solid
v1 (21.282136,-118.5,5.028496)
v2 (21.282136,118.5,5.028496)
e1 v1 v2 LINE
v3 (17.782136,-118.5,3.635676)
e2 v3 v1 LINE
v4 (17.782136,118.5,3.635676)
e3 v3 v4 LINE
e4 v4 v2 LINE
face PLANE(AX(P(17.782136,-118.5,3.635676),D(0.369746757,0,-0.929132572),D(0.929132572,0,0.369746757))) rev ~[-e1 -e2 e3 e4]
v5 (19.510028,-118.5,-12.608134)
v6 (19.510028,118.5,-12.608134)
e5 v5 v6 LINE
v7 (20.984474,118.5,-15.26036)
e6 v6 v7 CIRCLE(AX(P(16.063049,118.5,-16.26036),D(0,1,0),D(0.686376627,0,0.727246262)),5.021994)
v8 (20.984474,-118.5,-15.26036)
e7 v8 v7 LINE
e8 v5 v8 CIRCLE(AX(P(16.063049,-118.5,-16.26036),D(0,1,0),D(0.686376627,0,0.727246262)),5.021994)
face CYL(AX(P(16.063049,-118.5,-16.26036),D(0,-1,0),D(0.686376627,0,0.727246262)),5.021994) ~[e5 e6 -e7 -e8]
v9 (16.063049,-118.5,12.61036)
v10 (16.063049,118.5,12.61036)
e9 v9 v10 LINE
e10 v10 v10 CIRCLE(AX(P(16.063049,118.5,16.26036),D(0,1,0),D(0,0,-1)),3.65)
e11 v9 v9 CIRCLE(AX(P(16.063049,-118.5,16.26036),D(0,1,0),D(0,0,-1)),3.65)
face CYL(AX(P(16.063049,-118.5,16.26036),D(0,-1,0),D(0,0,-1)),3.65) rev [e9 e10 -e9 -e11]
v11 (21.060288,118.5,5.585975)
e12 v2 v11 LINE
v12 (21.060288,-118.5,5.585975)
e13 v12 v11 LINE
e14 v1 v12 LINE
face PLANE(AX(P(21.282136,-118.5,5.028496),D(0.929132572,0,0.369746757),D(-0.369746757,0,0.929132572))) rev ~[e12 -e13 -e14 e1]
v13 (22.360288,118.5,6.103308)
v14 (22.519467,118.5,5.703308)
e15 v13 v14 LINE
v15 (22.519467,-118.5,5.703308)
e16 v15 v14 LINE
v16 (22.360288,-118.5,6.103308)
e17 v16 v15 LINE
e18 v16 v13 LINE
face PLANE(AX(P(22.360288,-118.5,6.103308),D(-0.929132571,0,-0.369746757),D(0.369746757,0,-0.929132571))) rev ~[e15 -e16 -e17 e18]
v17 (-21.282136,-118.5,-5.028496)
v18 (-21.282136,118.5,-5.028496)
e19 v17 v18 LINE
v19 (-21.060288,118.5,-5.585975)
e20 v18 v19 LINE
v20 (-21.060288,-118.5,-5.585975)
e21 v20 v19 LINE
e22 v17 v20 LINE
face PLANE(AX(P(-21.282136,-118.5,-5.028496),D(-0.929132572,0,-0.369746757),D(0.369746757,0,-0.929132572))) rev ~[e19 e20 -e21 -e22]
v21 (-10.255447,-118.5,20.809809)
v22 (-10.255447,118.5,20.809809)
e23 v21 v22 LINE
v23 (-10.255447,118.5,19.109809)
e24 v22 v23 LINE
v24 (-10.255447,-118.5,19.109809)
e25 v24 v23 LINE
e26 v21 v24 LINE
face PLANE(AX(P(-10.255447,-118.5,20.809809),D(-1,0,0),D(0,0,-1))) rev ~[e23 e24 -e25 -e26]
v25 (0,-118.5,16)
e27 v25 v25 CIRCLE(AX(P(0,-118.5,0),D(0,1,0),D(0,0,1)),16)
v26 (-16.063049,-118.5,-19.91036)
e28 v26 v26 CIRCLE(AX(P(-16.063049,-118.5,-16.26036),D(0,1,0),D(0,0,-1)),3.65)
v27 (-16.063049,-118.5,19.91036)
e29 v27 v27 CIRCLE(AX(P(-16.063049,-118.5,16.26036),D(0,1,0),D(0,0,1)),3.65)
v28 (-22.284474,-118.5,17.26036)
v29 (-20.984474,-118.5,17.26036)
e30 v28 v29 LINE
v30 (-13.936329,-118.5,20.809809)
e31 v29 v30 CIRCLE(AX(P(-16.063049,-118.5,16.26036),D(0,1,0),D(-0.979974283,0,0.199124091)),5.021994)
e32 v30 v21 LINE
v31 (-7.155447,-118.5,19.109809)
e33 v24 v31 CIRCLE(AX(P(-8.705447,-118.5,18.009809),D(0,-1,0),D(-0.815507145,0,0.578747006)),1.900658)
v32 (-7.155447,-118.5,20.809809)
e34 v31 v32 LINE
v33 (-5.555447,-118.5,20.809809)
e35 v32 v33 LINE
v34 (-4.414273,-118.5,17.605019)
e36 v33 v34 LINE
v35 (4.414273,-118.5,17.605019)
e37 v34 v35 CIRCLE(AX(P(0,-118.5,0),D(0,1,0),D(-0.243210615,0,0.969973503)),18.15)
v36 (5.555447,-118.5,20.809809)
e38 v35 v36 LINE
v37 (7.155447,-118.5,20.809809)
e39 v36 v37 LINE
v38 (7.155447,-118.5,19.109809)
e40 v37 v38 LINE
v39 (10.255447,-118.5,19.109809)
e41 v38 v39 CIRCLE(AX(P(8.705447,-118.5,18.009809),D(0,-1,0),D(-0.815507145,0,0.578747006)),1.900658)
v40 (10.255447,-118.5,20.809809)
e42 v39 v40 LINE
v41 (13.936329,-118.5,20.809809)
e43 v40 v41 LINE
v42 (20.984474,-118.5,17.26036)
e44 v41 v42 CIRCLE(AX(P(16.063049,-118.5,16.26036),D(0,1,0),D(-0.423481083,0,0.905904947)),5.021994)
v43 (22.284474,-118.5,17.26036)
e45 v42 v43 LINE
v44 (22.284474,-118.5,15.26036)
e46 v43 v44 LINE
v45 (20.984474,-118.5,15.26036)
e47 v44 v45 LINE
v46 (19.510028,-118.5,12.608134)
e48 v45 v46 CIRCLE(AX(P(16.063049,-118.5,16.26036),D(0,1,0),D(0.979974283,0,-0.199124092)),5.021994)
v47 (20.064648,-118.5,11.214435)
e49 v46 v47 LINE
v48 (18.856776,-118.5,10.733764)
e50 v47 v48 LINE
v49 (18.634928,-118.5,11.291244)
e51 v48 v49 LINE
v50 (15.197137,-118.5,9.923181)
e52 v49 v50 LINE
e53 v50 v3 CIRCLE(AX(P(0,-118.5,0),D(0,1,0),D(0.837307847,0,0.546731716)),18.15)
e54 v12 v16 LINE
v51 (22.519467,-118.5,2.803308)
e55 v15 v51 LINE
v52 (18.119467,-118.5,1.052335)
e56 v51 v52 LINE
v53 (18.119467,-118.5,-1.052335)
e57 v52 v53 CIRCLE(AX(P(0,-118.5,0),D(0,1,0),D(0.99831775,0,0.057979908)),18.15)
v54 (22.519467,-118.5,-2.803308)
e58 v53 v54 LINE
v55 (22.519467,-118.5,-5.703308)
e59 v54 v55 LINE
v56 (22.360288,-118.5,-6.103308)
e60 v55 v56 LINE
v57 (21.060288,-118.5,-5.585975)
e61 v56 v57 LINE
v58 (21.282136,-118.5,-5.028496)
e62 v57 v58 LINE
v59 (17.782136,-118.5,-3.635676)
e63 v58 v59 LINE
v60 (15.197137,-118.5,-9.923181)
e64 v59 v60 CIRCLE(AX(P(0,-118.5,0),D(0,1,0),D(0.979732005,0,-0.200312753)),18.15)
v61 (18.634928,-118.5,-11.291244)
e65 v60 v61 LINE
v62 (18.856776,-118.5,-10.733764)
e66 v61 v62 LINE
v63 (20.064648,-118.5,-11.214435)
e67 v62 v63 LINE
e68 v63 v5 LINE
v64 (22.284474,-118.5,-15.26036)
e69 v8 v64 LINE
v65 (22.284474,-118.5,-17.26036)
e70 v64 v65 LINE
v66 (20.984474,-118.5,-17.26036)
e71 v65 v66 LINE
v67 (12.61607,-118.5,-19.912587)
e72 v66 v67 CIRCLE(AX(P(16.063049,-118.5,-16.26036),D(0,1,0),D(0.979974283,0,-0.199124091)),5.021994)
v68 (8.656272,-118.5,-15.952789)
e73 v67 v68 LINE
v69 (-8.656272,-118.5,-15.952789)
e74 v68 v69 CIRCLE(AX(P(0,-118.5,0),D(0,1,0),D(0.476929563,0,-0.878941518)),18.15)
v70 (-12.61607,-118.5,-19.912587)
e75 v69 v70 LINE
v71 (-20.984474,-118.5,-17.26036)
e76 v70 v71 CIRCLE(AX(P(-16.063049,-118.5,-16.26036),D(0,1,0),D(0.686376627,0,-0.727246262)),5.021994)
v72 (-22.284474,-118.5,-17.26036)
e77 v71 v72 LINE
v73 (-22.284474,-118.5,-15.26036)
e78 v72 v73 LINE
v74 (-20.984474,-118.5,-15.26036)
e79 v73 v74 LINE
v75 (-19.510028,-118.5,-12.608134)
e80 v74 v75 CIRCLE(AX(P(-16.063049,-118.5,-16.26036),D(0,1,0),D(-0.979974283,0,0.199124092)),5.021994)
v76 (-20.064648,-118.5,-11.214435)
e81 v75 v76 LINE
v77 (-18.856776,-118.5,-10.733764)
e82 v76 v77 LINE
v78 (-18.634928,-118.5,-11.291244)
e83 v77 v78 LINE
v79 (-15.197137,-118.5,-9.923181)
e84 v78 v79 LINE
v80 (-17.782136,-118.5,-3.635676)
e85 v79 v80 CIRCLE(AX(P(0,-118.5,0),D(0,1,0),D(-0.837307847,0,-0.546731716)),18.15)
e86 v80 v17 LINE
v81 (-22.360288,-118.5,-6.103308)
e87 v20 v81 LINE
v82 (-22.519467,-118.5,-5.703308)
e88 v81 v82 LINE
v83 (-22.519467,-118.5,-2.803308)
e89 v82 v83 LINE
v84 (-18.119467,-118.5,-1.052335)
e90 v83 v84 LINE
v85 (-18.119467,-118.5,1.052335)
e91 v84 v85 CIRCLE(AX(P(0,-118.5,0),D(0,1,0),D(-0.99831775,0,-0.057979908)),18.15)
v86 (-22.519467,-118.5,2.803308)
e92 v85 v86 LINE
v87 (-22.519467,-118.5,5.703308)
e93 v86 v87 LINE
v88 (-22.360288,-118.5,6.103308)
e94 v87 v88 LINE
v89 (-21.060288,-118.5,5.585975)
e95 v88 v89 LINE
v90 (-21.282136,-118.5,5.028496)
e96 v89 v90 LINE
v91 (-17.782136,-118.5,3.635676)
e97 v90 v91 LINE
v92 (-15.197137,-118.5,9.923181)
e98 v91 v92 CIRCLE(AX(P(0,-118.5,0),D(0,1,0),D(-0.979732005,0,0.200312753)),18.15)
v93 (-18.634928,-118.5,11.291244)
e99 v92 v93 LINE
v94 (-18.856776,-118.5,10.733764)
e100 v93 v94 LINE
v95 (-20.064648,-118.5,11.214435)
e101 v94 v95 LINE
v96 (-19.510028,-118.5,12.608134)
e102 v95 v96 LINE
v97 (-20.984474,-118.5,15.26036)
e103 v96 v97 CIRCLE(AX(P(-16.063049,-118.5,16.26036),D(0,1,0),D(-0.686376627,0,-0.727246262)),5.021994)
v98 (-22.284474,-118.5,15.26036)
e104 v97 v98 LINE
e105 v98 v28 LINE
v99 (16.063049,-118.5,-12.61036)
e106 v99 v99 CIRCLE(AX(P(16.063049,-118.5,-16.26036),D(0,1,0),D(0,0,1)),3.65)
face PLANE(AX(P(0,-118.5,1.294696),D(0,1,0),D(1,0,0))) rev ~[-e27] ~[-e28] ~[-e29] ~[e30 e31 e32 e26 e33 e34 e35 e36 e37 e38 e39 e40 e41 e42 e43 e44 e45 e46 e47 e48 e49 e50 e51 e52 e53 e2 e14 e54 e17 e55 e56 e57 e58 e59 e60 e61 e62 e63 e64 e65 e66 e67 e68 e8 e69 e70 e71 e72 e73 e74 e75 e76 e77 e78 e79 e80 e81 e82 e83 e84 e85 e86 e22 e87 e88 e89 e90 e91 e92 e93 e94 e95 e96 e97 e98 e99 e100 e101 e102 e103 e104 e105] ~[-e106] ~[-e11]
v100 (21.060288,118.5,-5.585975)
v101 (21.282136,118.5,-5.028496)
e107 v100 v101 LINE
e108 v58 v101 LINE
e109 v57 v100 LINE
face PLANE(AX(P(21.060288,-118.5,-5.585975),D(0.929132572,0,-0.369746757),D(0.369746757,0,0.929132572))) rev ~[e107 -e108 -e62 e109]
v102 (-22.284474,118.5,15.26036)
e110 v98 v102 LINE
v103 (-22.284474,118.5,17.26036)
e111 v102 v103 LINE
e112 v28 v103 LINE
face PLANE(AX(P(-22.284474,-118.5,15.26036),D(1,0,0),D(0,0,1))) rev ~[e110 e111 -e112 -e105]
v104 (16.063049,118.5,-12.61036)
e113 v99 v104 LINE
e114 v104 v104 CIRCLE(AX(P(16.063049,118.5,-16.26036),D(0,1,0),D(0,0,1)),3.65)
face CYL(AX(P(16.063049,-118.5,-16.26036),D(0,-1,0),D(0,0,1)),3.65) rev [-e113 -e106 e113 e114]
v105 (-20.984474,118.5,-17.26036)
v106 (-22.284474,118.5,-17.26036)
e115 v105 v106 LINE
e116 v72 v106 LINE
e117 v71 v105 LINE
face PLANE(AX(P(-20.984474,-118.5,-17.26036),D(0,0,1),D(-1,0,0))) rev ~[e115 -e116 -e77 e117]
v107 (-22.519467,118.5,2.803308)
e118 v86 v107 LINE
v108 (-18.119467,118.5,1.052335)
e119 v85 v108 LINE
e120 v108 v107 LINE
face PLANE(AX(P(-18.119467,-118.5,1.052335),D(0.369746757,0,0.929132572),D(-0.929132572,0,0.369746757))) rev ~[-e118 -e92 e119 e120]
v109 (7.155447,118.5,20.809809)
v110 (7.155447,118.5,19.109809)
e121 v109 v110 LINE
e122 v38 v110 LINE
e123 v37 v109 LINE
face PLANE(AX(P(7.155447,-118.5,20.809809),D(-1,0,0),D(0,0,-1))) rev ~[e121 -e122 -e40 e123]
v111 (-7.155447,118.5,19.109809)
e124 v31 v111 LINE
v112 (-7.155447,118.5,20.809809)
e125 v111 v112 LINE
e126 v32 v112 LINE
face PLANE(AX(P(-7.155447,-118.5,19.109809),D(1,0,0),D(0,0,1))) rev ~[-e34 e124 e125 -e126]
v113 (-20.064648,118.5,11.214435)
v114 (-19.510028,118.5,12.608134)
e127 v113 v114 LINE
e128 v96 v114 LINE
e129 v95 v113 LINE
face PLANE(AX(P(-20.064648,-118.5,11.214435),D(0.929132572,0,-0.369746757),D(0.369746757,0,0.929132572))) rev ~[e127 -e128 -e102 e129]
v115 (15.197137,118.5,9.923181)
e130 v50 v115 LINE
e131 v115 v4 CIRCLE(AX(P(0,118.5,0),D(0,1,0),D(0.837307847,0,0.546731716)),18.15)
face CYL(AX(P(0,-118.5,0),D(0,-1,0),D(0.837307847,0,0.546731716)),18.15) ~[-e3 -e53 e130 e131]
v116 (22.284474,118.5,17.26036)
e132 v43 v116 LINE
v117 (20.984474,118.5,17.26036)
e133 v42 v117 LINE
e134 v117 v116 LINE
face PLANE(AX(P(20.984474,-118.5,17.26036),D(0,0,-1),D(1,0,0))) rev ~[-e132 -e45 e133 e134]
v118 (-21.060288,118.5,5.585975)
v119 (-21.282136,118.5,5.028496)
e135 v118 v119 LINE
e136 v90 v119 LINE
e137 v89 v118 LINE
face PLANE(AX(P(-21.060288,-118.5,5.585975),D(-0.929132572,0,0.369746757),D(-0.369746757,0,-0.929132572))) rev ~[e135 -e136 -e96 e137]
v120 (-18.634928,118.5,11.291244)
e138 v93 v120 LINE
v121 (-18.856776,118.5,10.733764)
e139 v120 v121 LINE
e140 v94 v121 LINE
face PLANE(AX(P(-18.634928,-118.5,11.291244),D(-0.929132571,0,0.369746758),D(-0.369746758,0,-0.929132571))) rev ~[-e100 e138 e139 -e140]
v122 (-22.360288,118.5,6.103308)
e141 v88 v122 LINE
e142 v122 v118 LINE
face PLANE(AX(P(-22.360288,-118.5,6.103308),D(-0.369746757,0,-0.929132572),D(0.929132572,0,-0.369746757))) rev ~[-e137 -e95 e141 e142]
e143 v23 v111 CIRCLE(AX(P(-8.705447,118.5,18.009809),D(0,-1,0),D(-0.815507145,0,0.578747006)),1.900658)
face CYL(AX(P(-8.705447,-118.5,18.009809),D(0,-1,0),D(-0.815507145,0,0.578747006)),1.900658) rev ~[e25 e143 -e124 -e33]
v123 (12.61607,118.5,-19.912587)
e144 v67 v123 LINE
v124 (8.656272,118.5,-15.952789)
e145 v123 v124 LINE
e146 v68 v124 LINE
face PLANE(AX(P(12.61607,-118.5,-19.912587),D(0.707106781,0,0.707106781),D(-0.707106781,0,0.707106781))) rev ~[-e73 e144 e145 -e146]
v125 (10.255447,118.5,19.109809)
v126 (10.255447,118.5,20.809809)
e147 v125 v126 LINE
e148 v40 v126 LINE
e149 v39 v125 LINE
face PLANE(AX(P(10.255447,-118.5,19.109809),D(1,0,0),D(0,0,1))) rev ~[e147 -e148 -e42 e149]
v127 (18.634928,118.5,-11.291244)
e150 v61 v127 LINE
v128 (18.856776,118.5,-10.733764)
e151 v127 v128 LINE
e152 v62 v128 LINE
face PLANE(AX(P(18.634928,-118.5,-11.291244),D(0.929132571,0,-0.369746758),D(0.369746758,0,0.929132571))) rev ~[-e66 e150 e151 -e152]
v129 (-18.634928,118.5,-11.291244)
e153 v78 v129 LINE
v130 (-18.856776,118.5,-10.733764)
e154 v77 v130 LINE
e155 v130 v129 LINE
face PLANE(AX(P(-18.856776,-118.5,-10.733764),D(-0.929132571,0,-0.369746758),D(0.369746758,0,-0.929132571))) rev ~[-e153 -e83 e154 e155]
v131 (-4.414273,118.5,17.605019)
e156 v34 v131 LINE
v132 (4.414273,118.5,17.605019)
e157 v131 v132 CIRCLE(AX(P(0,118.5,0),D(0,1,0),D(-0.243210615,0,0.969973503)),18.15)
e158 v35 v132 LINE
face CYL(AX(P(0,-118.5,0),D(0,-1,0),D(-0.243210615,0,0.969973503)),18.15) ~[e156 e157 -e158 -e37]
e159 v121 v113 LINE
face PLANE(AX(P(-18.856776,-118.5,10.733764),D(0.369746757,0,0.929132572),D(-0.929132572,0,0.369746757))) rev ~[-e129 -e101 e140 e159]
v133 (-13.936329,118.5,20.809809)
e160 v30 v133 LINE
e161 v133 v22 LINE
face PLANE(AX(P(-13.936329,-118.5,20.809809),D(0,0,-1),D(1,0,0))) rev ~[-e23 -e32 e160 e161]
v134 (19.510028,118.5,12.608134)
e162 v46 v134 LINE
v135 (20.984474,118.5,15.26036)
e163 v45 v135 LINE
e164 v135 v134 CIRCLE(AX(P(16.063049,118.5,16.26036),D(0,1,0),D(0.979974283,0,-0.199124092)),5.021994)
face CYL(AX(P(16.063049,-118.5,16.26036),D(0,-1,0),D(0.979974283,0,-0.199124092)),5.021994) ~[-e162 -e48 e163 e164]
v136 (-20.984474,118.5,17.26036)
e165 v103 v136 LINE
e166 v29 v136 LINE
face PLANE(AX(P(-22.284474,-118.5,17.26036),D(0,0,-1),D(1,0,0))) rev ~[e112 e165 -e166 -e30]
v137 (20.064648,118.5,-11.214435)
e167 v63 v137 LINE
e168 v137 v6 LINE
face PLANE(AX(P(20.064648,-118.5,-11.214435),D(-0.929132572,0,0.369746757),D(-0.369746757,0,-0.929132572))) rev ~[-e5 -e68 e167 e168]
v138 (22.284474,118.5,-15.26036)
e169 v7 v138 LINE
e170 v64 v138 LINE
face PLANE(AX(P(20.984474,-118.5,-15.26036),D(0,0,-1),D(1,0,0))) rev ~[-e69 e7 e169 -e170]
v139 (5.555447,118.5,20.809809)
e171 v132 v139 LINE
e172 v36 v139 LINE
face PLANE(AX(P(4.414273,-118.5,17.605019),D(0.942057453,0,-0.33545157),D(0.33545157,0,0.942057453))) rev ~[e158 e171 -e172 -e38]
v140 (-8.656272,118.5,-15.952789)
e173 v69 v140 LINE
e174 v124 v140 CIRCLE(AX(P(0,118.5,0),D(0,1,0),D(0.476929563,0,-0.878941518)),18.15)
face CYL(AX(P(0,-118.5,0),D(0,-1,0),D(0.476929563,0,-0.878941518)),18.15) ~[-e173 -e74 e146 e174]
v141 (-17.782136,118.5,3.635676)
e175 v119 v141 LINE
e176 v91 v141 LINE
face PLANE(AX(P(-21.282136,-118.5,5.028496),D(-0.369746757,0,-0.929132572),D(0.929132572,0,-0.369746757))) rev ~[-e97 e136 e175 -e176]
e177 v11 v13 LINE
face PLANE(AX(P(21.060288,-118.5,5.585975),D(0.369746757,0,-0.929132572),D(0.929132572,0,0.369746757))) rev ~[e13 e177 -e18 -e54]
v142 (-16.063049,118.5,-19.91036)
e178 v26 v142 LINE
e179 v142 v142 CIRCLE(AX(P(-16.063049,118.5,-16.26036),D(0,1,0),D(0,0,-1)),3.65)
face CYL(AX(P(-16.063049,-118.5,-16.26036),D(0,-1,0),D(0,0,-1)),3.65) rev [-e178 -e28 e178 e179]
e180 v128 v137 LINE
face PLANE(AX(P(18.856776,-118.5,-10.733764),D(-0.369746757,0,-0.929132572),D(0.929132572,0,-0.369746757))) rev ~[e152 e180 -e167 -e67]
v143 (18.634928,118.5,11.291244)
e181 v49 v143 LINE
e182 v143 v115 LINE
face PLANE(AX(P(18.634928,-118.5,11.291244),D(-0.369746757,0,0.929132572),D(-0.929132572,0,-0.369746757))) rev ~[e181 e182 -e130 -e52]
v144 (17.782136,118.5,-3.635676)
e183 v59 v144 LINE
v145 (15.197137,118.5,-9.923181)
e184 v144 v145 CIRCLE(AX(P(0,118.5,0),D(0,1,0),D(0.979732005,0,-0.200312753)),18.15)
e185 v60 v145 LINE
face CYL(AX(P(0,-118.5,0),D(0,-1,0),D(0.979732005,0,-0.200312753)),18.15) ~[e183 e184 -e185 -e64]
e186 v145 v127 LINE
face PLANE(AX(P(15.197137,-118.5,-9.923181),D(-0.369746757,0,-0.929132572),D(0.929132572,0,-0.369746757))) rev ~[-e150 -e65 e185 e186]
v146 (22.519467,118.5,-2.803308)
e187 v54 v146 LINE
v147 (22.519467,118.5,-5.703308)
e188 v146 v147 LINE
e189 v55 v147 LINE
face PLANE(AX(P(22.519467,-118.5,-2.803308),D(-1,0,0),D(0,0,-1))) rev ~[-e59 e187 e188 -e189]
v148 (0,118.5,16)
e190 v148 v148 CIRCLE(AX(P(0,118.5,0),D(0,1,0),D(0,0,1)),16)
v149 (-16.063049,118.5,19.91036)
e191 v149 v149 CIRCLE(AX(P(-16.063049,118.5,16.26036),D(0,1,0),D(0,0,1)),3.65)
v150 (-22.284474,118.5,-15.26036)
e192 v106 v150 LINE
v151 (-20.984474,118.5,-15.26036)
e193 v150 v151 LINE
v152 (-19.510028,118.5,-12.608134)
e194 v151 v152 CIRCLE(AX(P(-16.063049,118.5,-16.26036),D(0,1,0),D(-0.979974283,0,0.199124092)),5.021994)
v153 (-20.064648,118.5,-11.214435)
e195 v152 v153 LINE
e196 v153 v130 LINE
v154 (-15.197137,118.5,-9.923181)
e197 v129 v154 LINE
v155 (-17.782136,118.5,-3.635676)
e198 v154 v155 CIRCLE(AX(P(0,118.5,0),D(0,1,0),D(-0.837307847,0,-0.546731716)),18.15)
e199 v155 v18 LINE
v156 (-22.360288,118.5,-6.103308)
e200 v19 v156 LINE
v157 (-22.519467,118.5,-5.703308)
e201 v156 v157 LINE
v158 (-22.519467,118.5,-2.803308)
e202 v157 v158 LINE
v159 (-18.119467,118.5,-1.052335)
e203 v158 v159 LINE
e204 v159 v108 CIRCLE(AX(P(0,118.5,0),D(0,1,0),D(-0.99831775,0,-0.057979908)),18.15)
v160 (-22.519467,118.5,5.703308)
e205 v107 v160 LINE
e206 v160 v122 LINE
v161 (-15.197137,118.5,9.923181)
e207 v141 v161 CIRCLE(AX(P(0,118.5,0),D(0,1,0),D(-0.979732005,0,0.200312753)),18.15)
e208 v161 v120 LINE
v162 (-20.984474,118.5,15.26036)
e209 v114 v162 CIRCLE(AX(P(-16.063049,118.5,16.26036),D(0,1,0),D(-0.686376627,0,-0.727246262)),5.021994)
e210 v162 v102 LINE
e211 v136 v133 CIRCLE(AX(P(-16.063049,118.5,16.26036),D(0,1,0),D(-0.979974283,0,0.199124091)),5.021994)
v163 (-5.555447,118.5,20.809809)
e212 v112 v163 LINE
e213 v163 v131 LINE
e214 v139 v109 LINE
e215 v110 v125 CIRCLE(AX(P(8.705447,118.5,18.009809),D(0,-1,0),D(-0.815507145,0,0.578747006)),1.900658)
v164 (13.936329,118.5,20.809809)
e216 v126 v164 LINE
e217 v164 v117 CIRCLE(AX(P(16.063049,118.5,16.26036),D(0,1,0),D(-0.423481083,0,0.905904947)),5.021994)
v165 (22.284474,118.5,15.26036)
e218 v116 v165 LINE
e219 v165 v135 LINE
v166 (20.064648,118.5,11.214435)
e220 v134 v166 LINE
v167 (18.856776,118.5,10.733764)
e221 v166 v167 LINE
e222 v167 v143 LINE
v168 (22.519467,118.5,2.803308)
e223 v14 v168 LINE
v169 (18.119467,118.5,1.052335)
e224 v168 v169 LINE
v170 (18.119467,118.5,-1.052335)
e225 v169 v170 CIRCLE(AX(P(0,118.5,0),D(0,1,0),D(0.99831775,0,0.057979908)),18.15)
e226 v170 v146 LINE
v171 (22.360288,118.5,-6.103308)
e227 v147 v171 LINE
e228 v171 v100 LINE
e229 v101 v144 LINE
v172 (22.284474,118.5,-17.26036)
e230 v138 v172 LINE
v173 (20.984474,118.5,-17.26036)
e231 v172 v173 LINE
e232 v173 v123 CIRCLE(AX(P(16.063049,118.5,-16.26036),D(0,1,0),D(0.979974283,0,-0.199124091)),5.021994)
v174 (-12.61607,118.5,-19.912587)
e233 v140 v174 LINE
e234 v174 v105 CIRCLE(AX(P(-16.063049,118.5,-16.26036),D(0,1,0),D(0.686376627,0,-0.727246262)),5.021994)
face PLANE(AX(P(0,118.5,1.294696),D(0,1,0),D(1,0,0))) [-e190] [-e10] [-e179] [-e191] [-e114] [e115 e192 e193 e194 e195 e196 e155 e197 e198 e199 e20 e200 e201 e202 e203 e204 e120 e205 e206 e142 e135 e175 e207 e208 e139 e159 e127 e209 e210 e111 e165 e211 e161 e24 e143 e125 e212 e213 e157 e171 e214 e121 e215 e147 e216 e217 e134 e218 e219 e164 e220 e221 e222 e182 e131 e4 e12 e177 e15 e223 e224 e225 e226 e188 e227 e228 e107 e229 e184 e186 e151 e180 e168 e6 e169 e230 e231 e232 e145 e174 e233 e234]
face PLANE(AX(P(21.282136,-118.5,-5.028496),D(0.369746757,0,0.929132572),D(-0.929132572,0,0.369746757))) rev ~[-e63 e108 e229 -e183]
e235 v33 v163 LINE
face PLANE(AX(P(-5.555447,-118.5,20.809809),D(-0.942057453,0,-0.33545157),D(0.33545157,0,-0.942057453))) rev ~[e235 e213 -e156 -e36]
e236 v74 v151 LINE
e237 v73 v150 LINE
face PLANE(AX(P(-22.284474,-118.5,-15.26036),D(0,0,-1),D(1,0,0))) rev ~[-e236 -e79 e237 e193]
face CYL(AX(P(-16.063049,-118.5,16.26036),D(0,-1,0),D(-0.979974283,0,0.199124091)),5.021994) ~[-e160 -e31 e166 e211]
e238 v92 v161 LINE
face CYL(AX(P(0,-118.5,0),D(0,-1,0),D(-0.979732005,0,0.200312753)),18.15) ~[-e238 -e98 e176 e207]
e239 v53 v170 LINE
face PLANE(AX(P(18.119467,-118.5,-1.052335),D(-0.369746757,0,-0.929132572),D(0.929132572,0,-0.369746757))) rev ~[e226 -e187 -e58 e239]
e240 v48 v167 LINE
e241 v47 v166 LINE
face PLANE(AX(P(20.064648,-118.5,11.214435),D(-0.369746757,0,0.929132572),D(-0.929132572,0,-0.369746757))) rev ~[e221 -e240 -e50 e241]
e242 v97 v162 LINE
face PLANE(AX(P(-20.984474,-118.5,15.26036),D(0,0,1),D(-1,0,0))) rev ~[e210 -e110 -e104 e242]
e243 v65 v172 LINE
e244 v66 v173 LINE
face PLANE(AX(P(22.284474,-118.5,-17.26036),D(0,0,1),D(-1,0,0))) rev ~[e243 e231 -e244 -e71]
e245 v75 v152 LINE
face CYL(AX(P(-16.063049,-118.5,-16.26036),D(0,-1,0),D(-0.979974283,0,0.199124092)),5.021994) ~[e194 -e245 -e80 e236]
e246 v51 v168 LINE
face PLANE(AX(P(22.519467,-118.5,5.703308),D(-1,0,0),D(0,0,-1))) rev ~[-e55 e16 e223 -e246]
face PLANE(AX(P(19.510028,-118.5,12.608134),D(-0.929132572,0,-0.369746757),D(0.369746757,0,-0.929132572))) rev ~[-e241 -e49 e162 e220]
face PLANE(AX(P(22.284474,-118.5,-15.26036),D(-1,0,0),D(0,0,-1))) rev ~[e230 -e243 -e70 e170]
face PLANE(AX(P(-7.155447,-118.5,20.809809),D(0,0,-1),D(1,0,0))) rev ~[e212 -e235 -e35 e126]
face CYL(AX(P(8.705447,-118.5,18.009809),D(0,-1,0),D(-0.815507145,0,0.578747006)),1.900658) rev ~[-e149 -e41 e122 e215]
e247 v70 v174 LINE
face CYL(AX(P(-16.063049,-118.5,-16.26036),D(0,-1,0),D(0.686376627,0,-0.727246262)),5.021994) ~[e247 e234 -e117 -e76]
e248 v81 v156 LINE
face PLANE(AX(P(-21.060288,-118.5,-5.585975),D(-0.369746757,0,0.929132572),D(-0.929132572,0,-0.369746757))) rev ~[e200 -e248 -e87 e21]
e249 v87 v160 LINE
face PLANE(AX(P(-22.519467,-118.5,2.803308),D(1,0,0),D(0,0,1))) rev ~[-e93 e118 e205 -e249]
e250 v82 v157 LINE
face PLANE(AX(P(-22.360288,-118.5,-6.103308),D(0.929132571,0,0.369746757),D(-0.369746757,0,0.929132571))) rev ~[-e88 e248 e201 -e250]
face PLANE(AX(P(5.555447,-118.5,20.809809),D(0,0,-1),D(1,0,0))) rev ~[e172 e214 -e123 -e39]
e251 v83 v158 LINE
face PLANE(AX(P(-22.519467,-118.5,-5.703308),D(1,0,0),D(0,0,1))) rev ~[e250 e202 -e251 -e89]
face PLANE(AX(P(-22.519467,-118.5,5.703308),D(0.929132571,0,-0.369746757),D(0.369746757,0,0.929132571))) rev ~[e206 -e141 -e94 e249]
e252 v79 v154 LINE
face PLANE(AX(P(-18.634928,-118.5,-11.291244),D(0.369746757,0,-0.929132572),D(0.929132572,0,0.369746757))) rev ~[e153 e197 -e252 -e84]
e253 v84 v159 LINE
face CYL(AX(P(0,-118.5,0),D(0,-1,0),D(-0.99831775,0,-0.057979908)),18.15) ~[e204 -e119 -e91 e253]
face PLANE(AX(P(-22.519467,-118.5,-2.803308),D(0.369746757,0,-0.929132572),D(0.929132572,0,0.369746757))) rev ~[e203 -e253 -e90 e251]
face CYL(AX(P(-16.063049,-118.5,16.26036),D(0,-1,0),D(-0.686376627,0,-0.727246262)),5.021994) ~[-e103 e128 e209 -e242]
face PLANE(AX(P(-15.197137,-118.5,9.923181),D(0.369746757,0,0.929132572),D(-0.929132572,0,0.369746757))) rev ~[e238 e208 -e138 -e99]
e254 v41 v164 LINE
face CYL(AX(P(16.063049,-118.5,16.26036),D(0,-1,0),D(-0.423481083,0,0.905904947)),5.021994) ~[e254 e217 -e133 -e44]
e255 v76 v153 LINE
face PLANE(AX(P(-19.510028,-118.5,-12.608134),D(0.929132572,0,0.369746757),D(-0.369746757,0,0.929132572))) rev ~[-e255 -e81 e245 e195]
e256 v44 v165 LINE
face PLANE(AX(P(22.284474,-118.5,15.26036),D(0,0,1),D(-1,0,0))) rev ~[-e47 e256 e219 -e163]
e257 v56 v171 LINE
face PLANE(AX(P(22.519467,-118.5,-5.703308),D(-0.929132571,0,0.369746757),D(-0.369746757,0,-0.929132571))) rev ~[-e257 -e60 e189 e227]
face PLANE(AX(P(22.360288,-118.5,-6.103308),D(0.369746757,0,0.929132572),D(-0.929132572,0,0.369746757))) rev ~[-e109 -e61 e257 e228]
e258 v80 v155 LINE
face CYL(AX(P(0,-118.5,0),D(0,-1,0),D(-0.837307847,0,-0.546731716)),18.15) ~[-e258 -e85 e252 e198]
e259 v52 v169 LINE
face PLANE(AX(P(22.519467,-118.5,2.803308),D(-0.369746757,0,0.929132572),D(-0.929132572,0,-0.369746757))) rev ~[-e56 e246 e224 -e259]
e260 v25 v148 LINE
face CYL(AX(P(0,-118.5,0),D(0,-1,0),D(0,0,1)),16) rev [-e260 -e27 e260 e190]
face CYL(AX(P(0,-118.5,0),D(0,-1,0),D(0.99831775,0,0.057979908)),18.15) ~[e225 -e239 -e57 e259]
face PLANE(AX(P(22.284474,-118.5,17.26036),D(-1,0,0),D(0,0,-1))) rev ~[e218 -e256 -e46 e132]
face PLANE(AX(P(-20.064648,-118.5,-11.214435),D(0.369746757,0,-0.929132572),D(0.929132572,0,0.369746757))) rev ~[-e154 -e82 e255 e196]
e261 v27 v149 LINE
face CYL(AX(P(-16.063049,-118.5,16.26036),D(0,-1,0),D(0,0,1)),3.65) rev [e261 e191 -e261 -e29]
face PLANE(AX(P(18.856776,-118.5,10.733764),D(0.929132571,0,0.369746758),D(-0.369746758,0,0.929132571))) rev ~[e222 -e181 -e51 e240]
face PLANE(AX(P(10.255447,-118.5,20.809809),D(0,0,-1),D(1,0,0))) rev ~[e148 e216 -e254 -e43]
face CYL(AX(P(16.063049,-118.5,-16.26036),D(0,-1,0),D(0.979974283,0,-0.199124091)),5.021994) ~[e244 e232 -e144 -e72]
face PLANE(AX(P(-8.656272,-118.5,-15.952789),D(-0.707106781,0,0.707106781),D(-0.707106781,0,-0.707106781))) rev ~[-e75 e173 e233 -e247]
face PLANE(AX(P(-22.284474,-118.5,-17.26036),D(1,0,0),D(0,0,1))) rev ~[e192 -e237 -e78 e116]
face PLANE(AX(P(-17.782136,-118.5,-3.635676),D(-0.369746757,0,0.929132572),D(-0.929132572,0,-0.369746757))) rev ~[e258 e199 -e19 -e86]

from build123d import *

# Parameters (mm, degrees)
SALIENTE_EXTRUIR1_DEPTH      = 118.5
SALIENTE_EXTRUIR1_DEPTH_BACK = 118.5
CROQUIS1_R                   = 16
CROQUIS1_R_2                 = 3.65


with BuildPart() as part:
    # Croquis1 → Saliente-Extruir1 (new, two sides: drawn at the far end of the back side and taken through both)
    with BuildSketch(Plane(origin=(0, 0, 0), x_dir=(1, 0, 0), z_dir=(0, 1, 0)).offset(-SALIENTE_EXTRUIR1_DEPTH_BACK)):
        with BuildLine():
            Line((22.519467165, 2.803307997), (22.519467165, 5.703307997))
            Line((22.519467165, 5.703307997), (22.360287832, 6.103307997))
            Line((22.360287832, 6.103307997), (21.060287832, 5.585975165))
            Line((21.060287832, 5.585975165), (21.282135886, 5.028495622))
            Line((21.282135886, 5.028495622), (17.782135886, 3.635676459))
            ThreePointArc((17.782135886, 3.635676459), (16.78664035, 6.901536477), (15.197137425, 9.923180644))
            Line((15.197137425, 9.923180644), (18.634927939, 11.291243646))
            Line((18.634927939, 11.291243646), (18.856775994, 10.733764103))
            Line((18.856775994, 10.733764103), (20.064648337, 11.214434887))
            Line((20.064648337, 11.214434887), (19.510028201, 12.608133745))
            ThreePointArc((19.510028201, 12.608133745), (20.45236818, 13.820216674), (20.984473879, 15.260360134))
            Line((20.984473879, 15.260360134), (22.284473879, 15.260360134))
            Line((22.284473879, 15.260360134), (22.284473879, 17.260360134))
            Line((22.284473879, 17.260360134), (20.984473879, 17.260360134))
            ThreePointArc((20.984473879, 17.260360134), (17.580307493, 21.047671527), (12.616069545, 19.912586524))
            Line((12.616069545, 19.912586524), (8.656271571, 15.952788549))
            ThreePointArc((8.656271571, 15.952788549), (0, 18.15), (-8.656271571, 15.952788549))
            Line((-8.656271571, 15.952788549), (-12.616069545, 19.912586524))
            ThreePointArc((-12.616069545, 19.912586524), (-17.580307493, 21.047671527), (-20.984473879, 17.260360134))
            Line((-20.984473879, 17.260360134), (-22.284473879, 17.260360134))
            Line((-22.284473879, 17.260360134), (-22.284473879, 15.260360134))
            Line((-22.284473879, 15.260360134), (-20.984473879, 15.260360134))
            ThreePointArc((-20.984473879, 15.260360134), (-20.45236818, 13.820216674), (-19.510028201, 12.608133745))
            Line((-19.510028201, 12.608133745), (-20.064648337, 11.214434887))
            Line((-20.064648337, 11.214434887), (-18.856775994, 10.733764103))
            Line((-18.856775994, 10.733764103), (-18.634927939, 11.291243646))
            Line((-18.634927939, 11.291243646), (-15.197137425, 9.923180644))
            ThreePointArc((-15.197137425, 9.923180644), (-16.78664035, 6.901536477), (-17.782135886, 3.635676459))
            Line((-17.782135886, 3.635676459), (-21.282135886, 5.028495622))
            Line((-21.282135886, 5.028495622), (-21.060287832, 5.585975165))
            Line((-21.060287832, 5.585975165), (-22.360287832, 6.103307997))
            Line((-22.360287832, 6.103307997), (-22.519467165, 5.703307997))
            Line((-22.519467165, 5.703307997), (-22.519467165, 2.803307997))
            Line((-22.519467165, 2.803307997), (-18.119467165, 1.052335335))
            ThreePointArc((-18.119467165, 1.052335335), (-18.15, 0), (-18.119467165, -1.052335335))
            Line((-18.119467165, -1.052335335), (-22.519467165, -2.803307997))
            Line((-22.519467165, -2.803307997), (-22.519467165, -5.703307997))
            Line((-22.519467165, -5.703307997), (-22.360287832, -6.103307997))
            Line((-22.360287832, -6.103307997), (-21.060287832, -5.585975165))
            Line((-21.060287832, -5.585975165), (-21.282135886, -5.028495622))
            Line((-21.282135886, -5.028495622), (-17.782135886, -3.635676459))
            ThreePointArc((-17.782135886, -3.635676459), (-16.78664035, -6.901536477), (-15.197137425, -9.923180644))
            Line((-15.197137425, -9.923180644), (-18.634927939, -11.291243646))
            Line((-18.634927939, -11.291243646), (-18.856775994, -10.733764103))
            Line((-18.856775994, -10.733764103), (-20.064648337, -11.214434887))
            Line((-20.064648337, -11.214434887), (-19.510028201, -12.608133745))
            ThreePointArc((-19.510028201, -12.608133745), (-20.45236818, -13.820216674), (-20.984473879, -15.260360134))
            Line((-20.984473879, -15.260360134), (-22.284473879, -15.260360134))
            Line((-22.284473879, -15.260360134), (-22.284473879, -17.260360134))
            Line((-22.284473879, -17.260360134), (-20.984473879, -17.260360134))
            ThreePointArc((-20.984473879, -17.260360134), (-18.321863215, -20.745689761), (-13.936329401, -20.809809373))
            Line((-13.936329401, -20.809809373), (-10.255447151, -20.809809373))
            Line((-10.255447151, -20.809809373), (-10.255447151, -19.109809373))
            ThreePointArc((-10.255447151, -19.109809373), (-8.705447151, -16.109151592), (-7.155447151, -19.109809373))
            Line((-7.155447151, -19.109809373), (-7.155447151, -20.809809373))
            Line((-7.155447151, -20.809809373), (-5.555447151, -20.809809373))
            Line((-5.555447151, -20.809809373), (-4.41427266, -17.605019082))
            ThreePointArc((-4.41427266, -17.605019082), (0, -18.15), (4.41427266, -17.605019082))
            Line((4.41427266, -17.605019082), (5.555447151, -20.809809373))
            Line((5.555447151, -20.809809373), (7.155447151, -20.809809373))
            Line((7.155447151, -20.809809373), (7.155447151, -19.109809373))
            ThreePointArc((7.155447151, -19.109809373), (8.705447151, -16.109151592), (10.255447151, -19.109809373))
            Line((10.255447151, -19.109809373), (10.255447151, -20.809809373))
            Line((10.255447151, -20.809809373), (13.936329401, -20.809809373))
            ThreePointArc((13.936329401, -20.809809373), (18.321863215, -20.745689761), (20.984473879, -17.260360134))
            Line((20.984473879, -17.260360134), (22.284473879, -17.260360134))
            Line((22.284473879, -17.260360134), (22.284473879, -15.260360134))
            Line((22.284473879, -15.260360134), (20.984473879, -15.260360134))
            ThreePointArc((20.984473879, -15.260360134), (20.45236818, -13.820216674), (19.510028201, -12.608133745))
            Line((19.510028201, -12.608133745), (20.064648337, -11.214434887))
            Line((20.064648337, -11.214434887), (18.856775994, -10.733764103))
            Line((18.856775994, -10.733764103), (18.634927939, -11.291243646))
            Line((18.634927939, -11.291243646), (15.197137425, -9.923180644))
            ThreePointArc((15.197137425, -9.923180644), (16.78664035, -6.901536477), (17.782135886, -3.635676459))
            Line((17.782135886, -3.635676459), (21.282135886, -5.028495622))
            Line((21.282135886, -5.028495622), (21.060287832, -5.585975165))
            Line((21.060287832, -5.585975165), (22.360287832, -6.103307997))
            Line((22.360287832, -6.103307997), (22.519467165, -5.703307997))
            Line((22.519467165, -5.703307997), (22.519467165, -2.803307997))
            Line((22.519467165, -2.803307997), (18.119467165, -1.052335335))
            ThreePointArc((18.119467165, -1.052335335), (18.15, 0), (18.119467165, 1.052335335))
            Line((18.119467165, 1.052335335), (22.519467165, 2.803307997))
        make_face()
        Circle(CROQUIS1_R, mode=Mode.SUBTRACT)
        with Locations((16.063048873, 16.260360134)):
            Circle(CROQUIS1_R_2, mode=Mode.SUBTRACT)
        with Locations((-16.063048873, 16.260360134)):
            Circle(CROQUIS1_R_2, mode=Mode.SUBTRACT)
        with Locations((-16.063048873, -16.260360134)):
            Circle(CROQUIS1_R_2, mode=Mode.SUBTRACT)
        with Locations((16.063048873, -16.260360134)):
            Circle(CROQUIS1_R_2, mode=Mode.SUBTRACT)
    extrude(amount=SALIENTE_EXTRUIR1_DEPTH + SALIENTE_EXTRUIR1_DEPTH_BACK)


solid = part.part
